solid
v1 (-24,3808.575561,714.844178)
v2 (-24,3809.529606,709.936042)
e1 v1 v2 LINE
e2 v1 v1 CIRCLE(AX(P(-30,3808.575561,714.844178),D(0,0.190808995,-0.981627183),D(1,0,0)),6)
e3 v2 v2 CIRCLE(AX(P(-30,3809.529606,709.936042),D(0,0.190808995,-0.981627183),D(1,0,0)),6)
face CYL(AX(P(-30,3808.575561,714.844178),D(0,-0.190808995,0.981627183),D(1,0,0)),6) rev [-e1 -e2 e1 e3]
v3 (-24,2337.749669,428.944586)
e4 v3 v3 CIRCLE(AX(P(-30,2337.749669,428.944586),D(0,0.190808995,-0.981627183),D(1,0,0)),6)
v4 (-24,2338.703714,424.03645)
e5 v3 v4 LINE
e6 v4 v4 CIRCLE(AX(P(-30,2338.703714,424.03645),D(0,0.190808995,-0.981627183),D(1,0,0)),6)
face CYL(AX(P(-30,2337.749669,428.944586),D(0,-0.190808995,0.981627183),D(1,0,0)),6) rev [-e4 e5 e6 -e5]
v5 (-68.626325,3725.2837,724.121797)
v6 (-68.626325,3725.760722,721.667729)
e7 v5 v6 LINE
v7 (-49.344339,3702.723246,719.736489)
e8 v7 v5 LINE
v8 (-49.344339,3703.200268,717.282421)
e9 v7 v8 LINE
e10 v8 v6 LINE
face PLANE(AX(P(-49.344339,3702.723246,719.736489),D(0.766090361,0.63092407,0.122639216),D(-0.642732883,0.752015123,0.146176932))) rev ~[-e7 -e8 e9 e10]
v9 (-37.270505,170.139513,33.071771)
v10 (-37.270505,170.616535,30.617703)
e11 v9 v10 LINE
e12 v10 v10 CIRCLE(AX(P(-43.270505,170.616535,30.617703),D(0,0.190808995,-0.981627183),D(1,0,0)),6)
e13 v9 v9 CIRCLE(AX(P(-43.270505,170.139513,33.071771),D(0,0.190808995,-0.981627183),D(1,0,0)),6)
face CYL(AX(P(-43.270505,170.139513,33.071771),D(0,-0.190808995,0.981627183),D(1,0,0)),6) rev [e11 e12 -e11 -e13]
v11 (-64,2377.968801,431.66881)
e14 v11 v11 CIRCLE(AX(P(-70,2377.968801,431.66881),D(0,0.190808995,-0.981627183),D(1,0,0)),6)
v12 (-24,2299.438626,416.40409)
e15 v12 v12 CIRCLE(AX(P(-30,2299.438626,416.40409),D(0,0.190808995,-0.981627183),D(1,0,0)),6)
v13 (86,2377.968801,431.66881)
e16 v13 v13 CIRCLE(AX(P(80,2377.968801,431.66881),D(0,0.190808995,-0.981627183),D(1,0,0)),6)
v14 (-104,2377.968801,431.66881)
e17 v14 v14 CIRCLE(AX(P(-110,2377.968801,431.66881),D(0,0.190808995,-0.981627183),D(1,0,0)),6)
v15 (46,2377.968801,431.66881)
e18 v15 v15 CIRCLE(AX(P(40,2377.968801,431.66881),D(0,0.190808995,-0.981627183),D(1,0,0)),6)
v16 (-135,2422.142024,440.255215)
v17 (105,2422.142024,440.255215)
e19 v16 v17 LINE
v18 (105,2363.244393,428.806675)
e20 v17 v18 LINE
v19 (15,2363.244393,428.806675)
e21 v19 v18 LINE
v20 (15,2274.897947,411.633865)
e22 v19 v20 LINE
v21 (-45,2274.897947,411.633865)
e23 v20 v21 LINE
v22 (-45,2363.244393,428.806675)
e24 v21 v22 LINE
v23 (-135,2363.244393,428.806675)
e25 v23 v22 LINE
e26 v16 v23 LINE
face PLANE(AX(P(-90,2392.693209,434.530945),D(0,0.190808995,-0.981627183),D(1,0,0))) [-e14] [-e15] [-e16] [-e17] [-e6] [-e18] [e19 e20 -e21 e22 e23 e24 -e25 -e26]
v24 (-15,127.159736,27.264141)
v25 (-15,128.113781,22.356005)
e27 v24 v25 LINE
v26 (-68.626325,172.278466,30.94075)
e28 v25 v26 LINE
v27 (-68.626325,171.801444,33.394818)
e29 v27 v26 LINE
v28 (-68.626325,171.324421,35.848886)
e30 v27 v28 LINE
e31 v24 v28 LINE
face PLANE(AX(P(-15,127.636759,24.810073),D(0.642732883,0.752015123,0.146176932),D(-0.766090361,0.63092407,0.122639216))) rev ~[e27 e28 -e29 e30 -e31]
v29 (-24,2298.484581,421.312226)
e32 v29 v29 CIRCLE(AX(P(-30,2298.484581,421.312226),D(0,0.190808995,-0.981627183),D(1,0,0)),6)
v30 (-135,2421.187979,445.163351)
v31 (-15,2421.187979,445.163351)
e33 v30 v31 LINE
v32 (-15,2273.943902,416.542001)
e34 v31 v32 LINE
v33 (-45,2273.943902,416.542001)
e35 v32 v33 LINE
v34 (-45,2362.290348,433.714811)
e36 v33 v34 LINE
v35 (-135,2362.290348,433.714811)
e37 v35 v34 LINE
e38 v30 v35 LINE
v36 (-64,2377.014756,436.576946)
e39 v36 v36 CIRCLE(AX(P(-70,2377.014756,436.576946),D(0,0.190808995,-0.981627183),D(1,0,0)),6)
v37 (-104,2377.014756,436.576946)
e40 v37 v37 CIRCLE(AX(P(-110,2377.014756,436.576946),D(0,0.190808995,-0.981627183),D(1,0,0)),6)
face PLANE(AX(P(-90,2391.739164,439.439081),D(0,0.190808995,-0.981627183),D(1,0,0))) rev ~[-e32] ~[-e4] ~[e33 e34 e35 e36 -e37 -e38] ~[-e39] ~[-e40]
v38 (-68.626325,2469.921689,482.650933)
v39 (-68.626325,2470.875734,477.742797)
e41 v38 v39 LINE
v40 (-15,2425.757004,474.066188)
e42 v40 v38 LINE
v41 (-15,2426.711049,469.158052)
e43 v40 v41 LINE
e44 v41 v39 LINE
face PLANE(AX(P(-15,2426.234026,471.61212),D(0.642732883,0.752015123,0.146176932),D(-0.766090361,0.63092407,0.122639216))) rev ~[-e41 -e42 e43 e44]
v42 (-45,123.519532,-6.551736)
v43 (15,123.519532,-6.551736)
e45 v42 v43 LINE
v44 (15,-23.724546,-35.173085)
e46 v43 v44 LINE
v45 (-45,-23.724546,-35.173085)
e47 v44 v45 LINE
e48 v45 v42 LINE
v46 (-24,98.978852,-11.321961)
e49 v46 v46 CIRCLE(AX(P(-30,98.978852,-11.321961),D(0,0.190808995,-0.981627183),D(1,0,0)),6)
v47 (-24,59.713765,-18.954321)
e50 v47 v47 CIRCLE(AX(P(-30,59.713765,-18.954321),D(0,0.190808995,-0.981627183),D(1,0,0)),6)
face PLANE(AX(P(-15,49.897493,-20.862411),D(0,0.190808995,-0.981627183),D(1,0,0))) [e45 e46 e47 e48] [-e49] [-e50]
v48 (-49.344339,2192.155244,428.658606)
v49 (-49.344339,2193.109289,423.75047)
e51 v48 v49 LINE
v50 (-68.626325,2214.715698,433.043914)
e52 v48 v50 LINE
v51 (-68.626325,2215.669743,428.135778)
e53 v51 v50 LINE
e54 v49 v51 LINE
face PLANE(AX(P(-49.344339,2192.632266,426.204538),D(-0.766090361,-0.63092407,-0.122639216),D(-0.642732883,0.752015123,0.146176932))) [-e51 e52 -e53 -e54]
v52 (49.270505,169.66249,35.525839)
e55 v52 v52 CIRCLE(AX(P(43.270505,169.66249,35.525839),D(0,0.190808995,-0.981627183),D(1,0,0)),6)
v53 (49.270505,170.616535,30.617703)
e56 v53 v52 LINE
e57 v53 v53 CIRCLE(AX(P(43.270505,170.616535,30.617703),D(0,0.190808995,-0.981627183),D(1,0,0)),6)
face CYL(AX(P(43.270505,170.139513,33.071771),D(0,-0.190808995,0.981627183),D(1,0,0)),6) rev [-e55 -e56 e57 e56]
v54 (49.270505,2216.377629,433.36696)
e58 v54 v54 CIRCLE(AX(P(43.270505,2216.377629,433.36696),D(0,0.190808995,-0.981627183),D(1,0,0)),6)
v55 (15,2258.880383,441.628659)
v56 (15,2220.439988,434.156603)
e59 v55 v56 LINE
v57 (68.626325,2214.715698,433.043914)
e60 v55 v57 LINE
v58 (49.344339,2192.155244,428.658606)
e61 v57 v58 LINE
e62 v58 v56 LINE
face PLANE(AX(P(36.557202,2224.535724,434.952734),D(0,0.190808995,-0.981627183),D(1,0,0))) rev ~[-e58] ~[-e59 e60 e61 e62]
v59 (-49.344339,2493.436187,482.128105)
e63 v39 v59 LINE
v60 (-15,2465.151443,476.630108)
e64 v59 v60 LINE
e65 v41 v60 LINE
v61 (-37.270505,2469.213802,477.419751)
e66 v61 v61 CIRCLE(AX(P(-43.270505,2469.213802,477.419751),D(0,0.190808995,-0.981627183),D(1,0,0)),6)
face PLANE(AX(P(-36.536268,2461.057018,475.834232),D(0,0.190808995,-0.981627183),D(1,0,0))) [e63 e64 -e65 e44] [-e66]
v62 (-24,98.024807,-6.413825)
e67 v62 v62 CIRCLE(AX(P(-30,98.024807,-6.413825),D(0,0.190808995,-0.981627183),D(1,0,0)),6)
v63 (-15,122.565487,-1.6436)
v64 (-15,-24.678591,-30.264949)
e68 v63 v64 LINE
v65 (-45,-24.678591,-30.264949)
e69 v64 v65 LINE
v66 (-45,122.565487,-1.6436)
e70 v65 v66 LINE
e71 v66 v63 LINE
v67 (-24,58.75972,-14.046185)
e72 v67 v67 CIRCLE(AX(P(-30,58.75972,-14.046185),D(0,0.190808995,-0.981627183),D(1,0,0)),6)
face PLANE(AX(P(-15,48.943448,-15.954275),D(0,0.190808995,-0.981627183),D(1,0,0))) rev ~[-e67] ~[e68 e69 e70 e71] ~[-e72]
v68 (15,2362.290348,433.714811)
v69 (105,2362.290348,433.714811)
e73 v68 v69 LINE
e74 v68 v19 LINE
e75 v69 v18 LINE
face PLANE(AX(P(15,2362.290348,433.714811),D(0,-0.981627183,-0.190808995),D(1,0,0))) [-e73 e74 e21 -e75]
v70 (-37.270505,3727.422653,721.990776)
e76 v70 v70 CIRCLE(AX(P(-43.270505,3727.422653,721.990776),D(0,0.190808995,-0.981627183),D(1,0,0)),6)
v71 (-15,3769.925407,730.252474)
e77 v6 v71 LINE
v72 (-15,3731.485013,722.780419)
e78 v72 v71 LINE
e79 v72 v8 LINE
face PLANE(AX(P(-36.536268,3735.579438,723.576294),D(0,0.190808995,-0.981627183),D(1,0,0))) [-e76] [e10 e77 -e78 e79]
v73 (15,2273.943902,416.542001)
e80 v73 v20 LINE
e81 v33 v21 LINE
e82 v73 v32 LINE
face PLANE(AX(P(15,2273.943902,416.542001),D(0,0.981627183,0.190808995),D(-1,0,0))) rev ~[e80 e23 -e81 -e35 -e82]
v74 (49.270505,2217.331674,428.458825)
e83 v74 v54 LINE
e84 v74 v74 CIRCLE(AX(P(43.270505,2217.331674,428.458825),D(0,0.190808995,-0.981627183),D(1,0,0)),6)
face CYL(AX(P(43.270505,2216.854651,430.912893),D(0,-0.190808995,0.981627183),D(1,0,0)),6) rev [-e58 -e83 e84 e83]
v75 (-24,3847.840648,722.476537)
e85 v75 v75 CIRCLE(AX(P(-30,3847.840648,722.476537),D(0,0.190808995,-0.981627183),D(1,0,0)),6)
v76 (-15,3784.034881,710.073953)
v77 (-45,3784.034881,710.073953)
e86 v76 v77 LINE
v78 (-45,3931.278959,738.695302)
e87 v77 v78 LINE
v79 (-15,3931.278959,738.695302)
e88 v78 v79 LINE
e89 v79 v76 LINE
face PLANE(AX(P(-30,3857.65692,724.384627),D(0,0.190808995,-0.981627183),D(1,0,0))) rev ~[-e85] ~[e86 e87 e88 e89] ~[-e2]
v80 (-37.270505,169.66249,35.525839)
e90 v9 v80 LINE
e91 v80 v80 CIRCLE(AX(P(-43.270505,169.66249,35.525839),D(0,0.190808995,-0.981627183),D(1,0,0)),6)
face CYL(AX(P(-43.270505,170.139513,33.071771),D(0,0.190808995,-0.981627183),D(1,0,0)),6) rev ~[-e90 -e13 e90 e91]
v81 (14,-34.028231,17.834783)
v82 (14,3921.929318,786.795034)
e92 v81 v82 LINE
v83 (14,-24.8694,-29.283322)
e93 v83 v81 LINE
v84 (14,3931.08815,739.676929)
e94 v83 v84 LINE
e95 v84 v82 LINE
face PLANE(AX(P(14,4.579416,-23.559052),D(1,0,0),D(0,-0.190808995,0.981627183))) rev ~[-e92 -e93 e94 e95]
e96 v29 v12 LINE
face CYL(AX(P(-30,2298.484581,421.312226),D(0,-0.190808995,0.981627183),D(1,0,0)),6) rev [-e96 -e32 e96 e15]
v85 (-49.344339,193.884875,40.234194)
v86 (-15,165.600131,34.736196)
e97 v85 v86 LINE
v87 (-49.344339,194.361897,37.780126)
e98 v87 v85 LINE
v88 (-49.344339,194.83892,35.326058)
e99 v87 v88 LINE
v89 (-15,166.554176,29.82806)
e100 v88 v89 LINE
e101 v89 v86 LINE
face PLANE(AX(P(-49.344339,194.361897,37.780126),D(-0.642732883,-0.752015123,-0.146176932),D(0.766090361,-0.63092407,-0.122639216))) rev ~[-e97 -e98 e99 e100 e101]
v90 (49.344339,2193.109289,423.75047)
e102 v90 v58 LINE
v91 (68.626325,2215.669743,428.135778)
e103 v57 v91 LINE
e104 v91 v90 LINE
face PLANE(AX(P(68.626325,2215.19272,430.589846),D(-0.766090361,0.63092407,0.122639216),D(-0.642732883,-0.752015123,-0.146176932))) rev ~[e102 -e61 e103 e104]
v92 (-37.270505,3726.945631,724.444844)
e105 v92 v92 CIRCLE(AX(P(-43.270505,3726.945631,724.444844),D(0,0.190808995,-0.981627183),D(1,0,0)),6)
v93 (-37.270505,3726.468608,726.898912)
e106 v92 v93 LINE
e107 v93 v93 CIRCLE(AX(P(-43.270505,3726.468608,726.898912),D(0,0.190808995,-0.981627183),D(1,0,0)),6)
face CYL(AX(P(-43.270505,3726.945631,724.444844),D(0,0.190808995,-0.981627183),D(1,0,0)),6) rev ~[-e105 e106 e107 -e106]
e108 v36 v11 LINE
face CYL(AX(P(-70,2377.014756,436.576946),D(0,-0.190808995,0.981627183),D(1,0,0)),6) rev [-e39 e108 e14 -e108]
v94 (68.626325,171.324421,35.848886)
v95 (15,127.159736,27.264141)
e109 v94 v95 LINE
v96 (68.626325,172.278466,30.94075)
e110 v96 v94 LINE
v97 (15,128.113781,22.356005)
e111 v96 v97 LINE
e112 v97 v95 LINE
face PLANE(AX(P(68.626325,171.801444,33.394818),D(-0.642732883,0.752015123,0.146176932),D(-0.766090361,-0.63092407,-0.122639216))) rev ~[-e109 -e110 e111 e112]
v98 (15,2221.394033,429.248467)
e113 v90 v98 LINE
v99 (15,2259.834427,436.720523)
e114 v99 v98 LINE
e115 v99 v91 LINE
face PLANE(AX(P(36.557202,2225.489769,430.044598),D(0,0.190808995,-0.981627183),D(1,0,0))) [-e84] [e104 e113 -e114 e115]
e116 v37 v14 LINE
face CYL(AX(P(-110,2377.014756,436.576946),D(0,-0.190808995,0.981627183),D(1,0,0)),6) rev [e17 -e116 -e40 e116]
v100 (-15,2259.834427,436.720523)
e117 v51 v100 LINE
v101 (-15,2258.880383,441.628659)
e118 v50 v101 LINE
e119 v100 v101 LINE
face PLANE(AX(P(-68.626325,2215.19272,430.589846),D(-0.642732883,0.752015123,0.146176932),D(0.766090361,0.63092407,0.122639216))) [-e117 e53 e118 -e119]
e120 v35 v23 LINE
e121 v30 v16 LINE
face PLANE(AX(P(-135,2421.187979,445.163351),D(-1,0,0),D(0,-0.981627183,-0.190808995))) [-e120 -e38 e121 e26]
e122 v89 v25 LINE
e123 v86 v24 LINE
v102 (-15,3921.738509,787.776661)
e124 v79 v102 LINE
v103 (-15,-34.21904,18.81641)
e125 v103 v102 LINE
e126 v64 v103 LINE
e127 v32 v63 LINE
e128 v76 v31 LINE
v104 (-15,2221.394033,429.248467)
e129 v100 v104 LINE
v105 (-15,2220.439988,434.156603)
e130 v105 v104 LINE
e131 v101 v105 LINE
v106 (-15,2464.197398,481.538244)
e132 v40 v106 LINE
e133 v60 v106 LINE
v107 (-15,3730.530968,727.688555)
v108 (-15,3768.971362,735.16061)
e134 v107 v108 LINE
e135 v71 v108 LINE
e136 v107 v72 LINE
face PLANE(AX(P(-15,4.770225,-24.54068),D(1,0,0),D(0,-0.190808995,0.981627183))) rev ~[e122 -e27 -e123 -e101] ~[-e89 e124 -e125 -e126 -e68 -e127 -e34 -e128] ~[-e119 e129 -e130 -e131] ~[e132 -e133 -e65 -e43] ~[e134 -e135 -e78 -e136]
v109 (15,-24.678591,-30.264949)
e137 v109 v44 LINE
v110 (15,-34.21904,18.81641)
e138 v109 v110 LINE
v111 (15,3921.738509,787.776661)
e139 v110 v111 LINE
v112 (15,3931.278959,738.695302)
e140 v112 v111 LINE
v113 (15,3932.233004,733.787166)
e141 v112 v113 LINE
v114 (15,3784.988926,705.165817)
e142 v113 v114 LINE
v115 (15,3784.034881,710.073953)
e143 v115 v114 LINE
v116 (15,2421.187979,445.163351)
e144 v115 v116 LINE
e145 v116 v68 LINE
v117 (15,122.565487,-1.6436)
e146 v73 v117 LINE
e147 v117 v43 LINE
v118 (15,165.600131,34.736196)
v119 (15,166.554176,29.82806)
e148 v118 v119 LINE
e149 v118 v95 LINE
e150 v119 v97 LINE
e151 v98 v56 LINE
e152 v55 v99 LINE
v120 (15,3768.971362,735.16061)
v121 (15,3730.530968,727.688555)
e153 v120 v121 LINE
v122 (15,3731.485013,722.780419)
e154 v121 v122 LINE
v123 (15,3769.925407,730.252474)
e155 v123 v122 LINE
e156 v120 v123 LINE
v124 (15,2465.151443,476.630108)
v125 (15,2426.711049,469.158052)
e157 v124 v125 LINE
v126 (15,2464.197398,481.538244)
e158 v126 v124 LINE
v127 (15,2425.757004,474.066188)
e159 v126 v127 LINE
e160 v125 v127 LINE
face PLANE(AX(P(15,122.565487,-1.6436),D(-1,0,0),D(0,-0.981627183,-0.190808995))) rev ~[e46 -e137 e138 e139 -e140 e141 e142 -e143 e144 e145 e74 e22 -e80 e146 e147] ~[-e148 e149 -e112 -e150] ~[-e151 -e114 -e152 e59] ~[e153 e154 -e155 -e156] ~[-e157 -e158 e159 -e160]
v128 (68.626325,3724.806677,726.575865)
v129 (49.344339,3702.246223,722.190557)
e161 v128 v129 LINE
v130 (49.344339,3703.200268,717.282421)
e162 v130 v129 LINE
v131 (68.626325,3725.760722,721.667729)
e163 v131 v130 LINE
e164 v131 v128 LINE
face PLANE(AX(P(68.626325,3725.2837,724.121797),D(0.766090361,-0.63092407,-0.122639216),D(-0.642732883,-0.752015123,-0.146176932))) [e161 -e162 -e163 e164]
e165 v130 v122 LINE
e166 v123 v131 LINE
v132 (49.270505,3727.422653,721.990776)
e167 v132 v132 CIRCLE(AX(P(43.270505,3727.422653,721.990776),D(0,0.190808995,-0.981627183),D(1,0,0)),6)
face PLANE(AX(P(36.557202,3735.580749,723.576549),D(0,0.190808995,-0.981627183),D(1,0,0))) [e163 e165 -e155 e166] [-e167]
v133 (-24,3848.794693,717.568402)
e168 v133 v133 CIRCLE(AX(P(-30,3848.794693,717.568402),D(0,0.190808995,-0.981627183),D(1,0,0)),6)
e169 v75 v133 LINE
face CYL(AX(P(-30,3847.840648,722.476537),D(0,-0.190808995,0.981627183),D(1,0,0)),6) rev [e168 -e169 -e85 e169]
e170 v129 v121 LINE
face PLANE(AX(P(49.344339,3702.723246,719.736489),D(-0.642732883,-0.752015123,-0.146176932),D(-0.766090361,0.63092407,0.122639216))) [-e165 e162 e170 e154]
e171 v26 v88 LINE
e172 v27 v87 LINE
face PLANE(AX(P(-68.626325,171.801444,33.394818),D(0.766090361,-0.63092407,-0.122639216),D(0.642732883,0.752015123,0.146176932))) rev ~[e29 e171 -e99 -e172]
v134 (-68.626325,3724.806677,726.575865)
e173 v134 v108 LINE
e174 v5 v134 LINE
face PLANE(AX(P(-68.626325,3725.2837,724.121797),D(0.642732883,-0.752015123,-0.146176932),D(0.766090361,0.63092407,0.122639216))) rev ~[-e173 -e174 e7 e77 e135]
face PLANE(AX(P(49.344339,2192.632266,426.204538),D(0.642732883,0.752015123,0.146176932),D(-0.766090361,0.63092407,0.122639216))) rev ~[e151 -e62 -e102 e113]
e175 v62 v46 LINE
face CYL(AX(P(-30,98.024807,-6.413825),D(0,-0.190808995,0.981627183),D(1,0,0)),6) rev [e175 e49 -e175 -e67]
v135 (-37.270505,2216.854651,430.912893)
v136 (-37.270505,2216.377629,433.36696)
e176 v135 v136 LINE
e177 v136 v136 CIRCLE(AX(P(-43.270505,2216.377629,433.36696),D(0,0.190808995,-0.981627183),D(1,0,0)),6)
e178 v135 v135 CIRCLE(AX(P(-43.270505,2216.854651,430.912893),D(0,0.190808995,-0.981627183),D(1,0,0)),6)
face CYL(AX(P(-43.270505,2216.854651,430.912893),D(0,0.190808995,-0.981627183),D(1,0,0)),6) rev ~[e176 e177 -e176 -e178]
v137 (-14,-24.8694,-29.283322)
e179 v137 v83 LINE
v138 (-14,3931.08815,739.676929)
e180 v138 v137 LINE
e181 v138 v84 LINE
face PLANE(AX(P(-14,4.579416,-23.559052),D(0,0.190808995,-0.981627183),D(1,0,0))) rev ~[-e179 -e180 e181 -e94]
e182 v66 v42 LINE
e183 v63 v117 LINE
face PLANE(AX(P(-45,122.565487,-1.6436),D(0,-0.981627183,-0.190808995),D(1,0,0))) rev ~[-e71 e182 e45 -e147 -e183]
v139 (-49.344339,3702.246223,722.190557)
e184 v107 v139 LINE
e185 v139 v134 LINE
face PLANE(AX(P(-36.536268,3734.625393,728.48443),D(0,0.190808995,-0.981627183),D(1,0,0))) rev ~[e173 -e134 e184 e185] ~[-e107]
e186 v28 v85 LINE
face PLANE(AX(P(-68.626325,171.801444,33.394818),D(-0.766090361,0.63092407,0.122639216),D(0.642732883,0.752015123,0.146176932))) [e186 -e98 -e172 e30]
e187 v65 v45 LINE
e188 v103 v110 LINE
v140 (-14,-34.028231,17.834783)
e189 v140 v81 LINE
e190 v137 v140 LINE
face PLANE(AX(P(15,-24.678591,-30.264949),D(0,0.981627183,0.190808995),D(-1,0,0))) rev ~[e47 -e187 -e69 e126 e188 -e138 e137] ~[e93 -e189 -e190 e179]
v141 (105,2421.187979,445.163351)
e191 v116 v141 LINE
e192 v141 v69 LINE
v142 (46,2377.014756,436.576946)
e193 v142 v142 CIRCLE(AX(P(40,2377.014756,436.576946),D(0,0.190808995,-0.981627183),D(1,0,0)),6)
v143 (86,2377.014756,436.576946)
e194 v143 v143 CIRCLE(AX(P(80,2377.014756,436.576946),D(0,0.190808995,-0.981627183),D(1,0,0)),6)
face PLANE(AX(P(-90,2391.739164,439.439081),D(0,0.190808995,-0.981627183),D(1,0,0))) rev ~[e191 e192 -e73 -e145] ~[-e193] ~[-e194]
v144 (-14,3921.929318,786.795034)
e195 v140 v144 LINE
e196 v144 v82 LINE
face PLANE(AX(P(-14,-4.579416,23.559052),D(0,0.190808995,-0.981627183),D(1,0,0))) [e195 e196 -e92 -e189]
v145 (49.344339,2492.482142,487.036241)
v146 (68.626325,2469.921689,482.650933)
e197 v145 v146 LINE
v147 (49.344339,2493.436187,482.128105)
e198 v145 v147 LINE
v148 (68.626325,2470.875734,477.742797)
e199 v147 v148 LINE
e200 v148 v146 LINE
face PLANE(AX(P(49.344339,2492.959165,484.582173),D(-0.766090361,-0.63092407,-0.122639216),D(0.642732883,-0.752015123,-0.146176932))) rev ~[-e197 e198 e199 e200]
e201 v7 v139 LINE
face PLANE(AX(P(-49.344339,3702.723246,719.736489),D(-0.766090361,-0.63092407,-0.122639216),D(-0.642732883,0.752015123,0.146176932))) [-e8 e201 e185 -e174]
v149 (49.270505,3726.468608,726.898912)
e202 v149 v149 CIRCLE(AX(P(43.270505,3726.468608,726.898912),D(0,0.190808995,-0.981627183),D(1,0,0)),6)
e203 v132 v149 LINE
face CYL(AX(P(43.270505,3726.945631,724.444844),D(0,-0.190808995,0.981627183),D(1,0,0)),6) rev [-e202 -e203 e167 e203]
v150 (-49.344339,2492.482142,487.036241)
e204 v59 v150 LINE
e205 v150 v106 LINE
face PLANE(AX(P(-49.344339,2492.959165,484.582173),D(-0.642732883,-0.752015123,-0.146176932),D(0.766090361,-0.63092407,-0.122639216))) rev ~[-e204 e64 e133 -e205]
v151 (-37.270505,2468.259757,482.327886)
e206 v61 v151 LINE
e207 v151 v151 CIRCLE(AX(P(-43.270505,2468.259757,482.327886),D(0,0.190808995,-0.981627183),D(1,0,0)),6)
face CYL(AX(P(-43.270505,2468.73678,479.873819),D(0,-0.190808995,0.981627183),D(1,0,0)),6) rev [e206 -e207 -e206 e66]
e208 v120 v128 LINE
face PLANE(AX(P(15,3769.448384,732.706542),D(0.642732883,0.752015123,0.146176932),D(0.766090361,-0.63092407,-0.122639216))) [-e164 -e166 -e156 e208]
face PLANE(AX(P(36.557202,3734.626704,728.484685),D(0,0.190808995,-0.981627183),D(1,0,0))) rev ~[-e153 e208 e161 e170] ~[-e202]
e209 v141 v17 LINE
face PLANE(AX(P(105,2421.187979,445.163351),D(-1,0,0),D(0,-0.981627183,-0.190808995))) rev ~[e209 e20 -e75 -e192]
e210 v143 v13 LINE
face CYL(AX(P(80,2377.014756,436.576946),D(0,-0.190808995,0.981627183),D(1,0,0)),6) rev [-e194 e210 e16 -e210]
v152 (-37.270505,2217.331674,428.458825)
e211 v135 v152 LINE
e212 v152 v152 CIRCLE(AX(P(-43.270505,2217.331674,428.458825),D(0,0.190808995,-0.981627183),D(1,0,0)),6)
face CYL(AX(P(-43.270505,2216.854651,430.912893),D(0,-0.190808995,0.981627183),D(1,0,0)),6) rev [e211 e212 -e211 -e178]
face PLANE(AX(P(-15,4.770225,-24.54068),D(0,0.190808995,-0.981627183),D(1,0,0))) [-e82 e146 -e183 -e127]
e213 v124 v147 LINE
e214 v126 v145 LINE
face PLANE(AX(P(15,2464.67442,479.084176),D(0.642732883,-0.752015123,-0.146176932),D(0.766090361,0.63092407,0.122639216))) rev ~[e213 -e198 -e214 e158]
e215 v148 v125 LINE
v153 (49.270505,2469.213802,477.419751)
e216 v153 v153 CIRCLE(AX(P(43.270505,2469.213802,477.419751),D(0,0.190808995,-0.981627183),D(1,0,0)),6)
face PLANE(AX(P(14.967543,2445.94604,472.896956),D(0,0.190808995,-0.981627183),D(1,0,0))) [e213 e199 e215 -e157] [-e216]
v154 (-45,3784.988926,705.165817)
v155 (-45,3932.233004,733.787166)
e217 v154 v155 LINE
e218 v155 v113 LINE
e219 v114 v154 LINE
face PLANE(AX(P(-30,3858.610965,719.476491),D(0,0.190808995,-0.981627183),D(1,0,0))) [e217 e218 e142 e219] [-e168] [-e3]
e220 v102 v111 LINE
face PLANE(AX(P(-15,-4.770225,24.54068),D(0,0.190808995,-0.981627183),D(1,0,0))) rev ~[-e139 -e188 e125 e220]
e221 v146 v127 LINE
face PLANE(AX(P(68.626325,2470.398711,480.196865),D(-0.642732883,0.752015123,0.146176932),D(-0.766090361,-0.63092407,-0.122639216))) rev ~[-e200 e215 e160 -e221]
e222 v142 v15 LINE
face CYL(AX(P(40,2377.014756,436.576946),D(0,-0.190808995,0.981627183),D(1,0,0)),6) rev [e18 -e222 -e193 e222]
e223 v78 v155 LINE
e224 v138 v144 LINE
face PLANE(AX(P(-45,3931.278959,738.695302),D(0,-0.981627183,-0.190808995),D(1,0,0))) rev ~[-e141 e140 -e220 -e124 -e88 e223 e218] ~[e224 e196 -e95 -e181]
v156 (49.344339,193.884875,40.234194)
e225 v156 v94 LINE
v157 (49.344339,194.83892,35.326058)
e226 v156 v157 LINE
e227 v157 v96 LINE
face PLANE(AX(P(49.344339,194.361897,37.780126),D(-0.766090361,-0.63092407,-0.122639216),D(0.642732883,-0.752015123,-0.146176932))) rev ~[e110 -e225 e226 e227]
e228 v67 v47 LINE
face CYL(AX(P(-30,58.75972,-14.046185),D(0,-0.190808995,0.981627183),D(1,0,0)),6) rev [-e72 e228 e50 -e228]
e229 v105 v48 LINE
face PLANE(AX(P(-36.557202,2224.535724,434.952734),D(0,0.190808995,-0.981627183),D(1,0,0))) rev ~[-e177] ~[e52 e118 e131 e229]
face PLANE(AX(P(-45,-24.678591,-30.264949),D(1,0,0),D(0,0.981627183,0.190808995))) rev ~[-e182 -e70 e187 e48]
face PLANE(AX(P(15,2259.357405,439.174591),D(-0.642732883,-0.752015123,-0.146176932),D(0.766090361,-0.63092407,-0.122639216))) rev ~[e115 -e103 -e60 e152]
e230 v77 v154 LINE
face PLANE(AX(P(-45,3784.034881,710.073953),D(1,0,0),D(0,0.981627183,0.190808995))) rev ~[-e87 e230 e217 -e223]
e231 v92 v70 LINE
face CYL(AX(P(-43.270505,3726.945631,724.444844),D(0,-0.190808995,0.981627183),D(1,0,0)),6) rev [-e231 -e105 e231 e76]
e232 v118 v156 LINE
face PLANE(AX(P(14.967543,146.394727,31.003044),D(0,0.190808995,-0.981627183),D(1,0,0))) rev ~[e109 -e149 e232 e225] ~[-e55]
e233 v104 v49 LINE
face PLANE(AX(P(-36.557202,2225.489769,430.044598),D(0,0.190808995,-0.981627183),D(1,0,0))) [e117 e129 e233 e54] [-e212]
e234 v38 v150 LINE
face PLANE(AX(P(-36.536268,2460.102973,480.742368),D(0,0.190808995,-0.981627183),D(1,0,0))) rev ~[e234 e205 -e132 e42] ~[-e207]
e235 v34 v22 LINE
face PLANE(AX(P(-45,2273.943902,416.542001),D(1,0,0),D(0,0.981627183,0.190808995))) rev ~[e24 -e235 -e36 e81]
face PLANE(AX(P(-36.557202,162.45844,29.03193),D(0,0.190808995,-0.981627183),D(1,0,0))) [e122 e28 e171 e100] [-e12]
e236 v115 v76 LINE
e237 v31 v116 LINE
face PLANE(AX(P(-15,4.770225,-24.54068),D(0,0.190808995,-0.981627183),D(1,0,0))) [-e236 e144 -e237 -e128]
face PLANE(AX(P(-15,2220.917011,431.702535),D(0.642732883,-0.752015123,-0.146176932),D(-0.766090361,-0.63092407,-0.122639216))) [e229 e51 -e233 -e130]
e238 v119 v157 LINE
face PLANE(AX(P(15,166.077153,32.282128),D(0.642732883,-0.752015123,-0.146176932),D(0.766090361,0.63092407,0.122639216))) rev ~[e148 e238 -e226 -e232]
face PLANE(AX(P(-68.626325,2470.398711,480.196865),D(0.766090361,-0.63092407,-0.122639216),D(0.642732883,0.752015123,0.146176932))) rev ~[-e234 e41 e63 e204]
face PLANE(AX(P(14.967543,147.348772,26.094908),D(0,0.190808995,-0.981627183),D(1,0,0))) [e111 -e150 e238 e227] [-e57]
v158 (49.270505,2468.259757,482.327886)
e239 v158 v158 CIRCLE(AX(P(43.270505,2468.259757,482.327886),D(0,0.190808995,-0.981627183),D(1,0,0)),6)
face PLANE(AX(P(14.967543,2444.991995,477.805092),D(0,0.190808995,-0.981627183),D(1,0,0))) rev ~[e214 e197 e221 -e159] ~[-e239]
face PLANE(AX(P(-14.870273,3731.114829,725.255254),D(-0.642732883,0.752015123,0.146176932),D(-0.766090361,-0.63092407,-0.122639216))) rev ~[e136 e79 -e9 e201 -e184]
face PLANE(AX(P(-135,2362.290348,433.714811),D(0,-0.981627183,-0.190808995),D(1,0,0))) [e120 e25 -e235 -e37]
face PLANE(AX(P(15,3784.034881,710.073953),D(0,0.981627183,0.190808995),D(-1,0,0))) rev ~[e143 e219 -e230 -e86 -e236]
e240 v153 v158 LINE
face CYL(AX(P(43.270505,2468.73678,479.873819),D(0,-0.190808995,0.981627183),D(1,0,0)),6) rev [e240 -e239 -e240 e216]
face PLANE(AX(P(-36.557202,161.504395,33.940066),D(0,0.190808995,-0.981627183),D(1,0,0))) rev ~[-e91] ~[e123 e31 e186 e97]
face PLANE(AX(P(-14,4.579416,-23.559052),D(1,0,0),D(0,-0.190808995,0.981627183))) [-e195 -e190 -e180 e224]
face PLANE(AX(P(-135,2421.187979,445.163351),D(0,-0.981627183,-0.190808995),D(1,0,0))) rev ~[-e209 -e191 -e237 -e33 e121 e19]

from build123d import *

# Parameters (mm, degrees)
F3_W           = 30
F3_H           = 50
F3_W_2         = 28
F3_H_2         = 48
F4_DEPTH       = 30
F4_DEPTH_BACK  = 4000
F5_R           = 6
F5_W           = 30
F5_H           = 150
F6_DEPTH       = 5
F7_W           = 90
F7_H           = 60
F7_R           = 6
F8_DEPTH       = 5
F9_R           = 6
F10_DEPTH      = 2.5
F10_DEPTH_BACK = 2.5
F11_R          = 6
F12_DEPTH      = 5


with BuildPart() as f4:
    # F3 (on face) → F4 (new body, two sides)
    with BuildSketch(Plane(origin=(0, 0, 0), x_dir=(1, 0, 0), z_dir=(0, -0.9816271834, -0.1908089954))) as f4_sk:
        Rectangle(F3_W, F3_H)
        Rectangle(F3_W_2, F3_H_2, mode=Mode.SUBTRACT)
    extrude(amount=F4_DEPTH)
    extrude(f4_sk.sketch, amount=-F4_DEPTH_BACK)

    # F5 (on face) → F6 (join)
    with BuildSketch(Plane(origin=(0, 4.7702248844, -24.5406795862), x_dir=(1, 0, 0), z_dir=(0, 0.1908089954, -0.9816271834))):
        Polygon((-45, -4000), (-15, -4000), (-15, -3850), (-45, -3850), (-45, -3940), align=None)
        with Locations((-30, -3915)):
            Circle(F5_R, mode=Mode.SUBTRACT)
        with Locations((-30, -3875)):
            Circle(F5_R, mode=Mode.SUBTRACT)
        with Locations((0, -3925)):
            Rectangle(F5_W, F5_H)
    extrude(amount=F6_DEPTH)

    # F7 (on face) → F8 (join)
    with BuildSketch(Plane(origin=(0, 4.7702248844, -24.5406795862), x_dir=(1, 0, 0), z_dir=(0, 0.1908089954, -0.9816271834))):
        with Locations((-90, -2431.6451083533)):
            Rectangle(F7_W, F7_H)
        with Locations((-110, -2416.6451083533)):
            Circle(F7_R, mode=Mode.SUBTRACT)
        with Locations((-70, -2416.6451083533)):
            Circle(F7_R, mode=Mode.SUBTRACT)
        Polygon((-45, -2461.6451083533), (-15, -2461.6451083533), (-15, -2311.6451083533), (-45, -2311.6451083533), (-45, -2401.6451083533), align=None)
        with Locations((-30, -2376.6451083533)):
            Circle(F7_R, mode=Mode.SUBTRACT)
        with Locations((-30, -2336.6451083533)):
            Circle(F7_R, mode=Mode.SUBTRACT)
        Polygon((-15, -2311.6451083533), (-15, -2461.6451083533), (15, -2461.6451083533), (15, -2401.6451083533), (15, -2311.6451083533), align=None)
        with Locations((60, -2431.6451083533)):
            Rectangle(F7_W, F7_H)
        with Locations((40, -2416.6451083533)):
            Circle(F7_R, mode=Mode.SUBTRACT)
        with Locations((80, -2416.6451083533)):
            Circle(F7_R, mode=Mode.SUBTRACT)
    extrude(amount=F8_DEPTH)

    # F9 (on line) → F10 (join, two sides)
    with BuildSketch(Plane(origin=(0, 0, 0), x_dir=(1, 0, 0), z_dir=(0, 0.1908089954, -0.9816271834))) as f10_sk:
        Polygon((15, -3800.8401286151), (15, -3840), (68.6263252593, -3795.0086981831), (49.3443387664, -3772.0259873577), align=None)
        with Locations((43.2705051734, -3796.7017352104)):
            Circle(F9_R, mode=Mode.SUBTRACT)
        Polygon((14.8702725282, -2510.6961412562), (15, -2510.8049797382), (15, -2471.6451083533), align=None)
        Polygon((15, -2471.6451083533), (15, -2510.8049797382), (49.3443387664, -2539.6191209957), (68.6263252593, -2516.6364101702), align=None)
        with Locations((43.2705051734, -2514.943373143)):
            Circle(F9_R, mode=Mode.SUBTRACT)
        Polygon((14.8702725282, -3800.9489670971), (15, -3840), (15, -3800.8401286151), align=None)
        Polygon((49.3443387664, -2233.671095711), (15, -2262.4852369684), (15, -2301.6451083533), (68.6263252593, -2256.6538065364), align=None)
        with Locations((43.2705051734, -2258.3468435637)):
            Circle(F9_R, mode=Mode.SUBTRACT)
        Polygon((15, -2301.6451083533), (15, -2262.4852369684), (14.8702725282, -2262.5940754504), align=None)
        Polygon((15, -169.185568556), (15, -130.0256971711), (14.8702725282, -169.0767300739), align=None)
        Polygon((68.6263252593, -175.016998988), (15, -130.0256971711), (15, -169.185568556), (49.3443387664, -197.9997098134), align=None)
        with Locations((43.2705051734, -173.3239619607)):
            Circle(F9_R, mode=Mode.SUBTRACT)
        Polygon((-68.6263252593, -175.016998988), (-49.3443387664, -197.9997098134), (-15, -169.185568556), (-15, -130.0256971711), align=None)
        with Locations((-43.2705051734, -173.3239619607)):
            Circle(F9_R, mode=Mode.SUBTRACT)
        Polygon((-15, -2301.6451083533), (-15, -2262.4852369684), (-49.3443387664, -2233.671095711), (-68.6263252593, -2256.6538065364), align=None)
        with Locations((-43.2705051734, -2258.3468435637)):
            Circle(F9_R, mode=Mode.SUBTRACT)
        Polygon((-14.8702725282, -2510.6961412562), (-15, -2471.6451083533), (-68.6263252593, -2516.6364101702), (-49.3443387664, -2539.6191209957), align=None)
        with Locations((-43.2705051734, -2514.943373143)):
            Circle(F9_R, mode=Mode.SUBTRACT)
        Polygon((-68.6263252593, -3795.0086981831), (-15, -3840), (-14.8702725282, -3800.9489670971), (-49.3443387664, -3772.0259873577), align=None)
        with Locations((-43.2705051734, -3796.7017352104)):
            Circle(F9_R, mode=Mode.SUBTRACT)
    extrude(amount=F10_DEPTH)
    extrude(f10_sk.sketch, amount=-F10_DEPTH_BACK)

    # F11 (on face) → F12 (join)
    with BuildSketch(Plane(origin=(0, 4.7702248844, -24.5406795862), x_dir=(1, 0, 0), z_dir=(0, 0.1908089954, -0.9816271834))):
        Polygon((-45, -120), (-15, -120), (15, -120), (15, 30), (-45, 30), (-45, -30), align=None)
        with Locations((-30, -95)):
            Circle(F11_R, mode=Mode.SUBTRACT)
        with Locations((-30, -55)):
            Circle(F11_R, mode=Mode.SUBTRACT)
    extrude(amount=F12_DEPTH)


solid = f4.part
